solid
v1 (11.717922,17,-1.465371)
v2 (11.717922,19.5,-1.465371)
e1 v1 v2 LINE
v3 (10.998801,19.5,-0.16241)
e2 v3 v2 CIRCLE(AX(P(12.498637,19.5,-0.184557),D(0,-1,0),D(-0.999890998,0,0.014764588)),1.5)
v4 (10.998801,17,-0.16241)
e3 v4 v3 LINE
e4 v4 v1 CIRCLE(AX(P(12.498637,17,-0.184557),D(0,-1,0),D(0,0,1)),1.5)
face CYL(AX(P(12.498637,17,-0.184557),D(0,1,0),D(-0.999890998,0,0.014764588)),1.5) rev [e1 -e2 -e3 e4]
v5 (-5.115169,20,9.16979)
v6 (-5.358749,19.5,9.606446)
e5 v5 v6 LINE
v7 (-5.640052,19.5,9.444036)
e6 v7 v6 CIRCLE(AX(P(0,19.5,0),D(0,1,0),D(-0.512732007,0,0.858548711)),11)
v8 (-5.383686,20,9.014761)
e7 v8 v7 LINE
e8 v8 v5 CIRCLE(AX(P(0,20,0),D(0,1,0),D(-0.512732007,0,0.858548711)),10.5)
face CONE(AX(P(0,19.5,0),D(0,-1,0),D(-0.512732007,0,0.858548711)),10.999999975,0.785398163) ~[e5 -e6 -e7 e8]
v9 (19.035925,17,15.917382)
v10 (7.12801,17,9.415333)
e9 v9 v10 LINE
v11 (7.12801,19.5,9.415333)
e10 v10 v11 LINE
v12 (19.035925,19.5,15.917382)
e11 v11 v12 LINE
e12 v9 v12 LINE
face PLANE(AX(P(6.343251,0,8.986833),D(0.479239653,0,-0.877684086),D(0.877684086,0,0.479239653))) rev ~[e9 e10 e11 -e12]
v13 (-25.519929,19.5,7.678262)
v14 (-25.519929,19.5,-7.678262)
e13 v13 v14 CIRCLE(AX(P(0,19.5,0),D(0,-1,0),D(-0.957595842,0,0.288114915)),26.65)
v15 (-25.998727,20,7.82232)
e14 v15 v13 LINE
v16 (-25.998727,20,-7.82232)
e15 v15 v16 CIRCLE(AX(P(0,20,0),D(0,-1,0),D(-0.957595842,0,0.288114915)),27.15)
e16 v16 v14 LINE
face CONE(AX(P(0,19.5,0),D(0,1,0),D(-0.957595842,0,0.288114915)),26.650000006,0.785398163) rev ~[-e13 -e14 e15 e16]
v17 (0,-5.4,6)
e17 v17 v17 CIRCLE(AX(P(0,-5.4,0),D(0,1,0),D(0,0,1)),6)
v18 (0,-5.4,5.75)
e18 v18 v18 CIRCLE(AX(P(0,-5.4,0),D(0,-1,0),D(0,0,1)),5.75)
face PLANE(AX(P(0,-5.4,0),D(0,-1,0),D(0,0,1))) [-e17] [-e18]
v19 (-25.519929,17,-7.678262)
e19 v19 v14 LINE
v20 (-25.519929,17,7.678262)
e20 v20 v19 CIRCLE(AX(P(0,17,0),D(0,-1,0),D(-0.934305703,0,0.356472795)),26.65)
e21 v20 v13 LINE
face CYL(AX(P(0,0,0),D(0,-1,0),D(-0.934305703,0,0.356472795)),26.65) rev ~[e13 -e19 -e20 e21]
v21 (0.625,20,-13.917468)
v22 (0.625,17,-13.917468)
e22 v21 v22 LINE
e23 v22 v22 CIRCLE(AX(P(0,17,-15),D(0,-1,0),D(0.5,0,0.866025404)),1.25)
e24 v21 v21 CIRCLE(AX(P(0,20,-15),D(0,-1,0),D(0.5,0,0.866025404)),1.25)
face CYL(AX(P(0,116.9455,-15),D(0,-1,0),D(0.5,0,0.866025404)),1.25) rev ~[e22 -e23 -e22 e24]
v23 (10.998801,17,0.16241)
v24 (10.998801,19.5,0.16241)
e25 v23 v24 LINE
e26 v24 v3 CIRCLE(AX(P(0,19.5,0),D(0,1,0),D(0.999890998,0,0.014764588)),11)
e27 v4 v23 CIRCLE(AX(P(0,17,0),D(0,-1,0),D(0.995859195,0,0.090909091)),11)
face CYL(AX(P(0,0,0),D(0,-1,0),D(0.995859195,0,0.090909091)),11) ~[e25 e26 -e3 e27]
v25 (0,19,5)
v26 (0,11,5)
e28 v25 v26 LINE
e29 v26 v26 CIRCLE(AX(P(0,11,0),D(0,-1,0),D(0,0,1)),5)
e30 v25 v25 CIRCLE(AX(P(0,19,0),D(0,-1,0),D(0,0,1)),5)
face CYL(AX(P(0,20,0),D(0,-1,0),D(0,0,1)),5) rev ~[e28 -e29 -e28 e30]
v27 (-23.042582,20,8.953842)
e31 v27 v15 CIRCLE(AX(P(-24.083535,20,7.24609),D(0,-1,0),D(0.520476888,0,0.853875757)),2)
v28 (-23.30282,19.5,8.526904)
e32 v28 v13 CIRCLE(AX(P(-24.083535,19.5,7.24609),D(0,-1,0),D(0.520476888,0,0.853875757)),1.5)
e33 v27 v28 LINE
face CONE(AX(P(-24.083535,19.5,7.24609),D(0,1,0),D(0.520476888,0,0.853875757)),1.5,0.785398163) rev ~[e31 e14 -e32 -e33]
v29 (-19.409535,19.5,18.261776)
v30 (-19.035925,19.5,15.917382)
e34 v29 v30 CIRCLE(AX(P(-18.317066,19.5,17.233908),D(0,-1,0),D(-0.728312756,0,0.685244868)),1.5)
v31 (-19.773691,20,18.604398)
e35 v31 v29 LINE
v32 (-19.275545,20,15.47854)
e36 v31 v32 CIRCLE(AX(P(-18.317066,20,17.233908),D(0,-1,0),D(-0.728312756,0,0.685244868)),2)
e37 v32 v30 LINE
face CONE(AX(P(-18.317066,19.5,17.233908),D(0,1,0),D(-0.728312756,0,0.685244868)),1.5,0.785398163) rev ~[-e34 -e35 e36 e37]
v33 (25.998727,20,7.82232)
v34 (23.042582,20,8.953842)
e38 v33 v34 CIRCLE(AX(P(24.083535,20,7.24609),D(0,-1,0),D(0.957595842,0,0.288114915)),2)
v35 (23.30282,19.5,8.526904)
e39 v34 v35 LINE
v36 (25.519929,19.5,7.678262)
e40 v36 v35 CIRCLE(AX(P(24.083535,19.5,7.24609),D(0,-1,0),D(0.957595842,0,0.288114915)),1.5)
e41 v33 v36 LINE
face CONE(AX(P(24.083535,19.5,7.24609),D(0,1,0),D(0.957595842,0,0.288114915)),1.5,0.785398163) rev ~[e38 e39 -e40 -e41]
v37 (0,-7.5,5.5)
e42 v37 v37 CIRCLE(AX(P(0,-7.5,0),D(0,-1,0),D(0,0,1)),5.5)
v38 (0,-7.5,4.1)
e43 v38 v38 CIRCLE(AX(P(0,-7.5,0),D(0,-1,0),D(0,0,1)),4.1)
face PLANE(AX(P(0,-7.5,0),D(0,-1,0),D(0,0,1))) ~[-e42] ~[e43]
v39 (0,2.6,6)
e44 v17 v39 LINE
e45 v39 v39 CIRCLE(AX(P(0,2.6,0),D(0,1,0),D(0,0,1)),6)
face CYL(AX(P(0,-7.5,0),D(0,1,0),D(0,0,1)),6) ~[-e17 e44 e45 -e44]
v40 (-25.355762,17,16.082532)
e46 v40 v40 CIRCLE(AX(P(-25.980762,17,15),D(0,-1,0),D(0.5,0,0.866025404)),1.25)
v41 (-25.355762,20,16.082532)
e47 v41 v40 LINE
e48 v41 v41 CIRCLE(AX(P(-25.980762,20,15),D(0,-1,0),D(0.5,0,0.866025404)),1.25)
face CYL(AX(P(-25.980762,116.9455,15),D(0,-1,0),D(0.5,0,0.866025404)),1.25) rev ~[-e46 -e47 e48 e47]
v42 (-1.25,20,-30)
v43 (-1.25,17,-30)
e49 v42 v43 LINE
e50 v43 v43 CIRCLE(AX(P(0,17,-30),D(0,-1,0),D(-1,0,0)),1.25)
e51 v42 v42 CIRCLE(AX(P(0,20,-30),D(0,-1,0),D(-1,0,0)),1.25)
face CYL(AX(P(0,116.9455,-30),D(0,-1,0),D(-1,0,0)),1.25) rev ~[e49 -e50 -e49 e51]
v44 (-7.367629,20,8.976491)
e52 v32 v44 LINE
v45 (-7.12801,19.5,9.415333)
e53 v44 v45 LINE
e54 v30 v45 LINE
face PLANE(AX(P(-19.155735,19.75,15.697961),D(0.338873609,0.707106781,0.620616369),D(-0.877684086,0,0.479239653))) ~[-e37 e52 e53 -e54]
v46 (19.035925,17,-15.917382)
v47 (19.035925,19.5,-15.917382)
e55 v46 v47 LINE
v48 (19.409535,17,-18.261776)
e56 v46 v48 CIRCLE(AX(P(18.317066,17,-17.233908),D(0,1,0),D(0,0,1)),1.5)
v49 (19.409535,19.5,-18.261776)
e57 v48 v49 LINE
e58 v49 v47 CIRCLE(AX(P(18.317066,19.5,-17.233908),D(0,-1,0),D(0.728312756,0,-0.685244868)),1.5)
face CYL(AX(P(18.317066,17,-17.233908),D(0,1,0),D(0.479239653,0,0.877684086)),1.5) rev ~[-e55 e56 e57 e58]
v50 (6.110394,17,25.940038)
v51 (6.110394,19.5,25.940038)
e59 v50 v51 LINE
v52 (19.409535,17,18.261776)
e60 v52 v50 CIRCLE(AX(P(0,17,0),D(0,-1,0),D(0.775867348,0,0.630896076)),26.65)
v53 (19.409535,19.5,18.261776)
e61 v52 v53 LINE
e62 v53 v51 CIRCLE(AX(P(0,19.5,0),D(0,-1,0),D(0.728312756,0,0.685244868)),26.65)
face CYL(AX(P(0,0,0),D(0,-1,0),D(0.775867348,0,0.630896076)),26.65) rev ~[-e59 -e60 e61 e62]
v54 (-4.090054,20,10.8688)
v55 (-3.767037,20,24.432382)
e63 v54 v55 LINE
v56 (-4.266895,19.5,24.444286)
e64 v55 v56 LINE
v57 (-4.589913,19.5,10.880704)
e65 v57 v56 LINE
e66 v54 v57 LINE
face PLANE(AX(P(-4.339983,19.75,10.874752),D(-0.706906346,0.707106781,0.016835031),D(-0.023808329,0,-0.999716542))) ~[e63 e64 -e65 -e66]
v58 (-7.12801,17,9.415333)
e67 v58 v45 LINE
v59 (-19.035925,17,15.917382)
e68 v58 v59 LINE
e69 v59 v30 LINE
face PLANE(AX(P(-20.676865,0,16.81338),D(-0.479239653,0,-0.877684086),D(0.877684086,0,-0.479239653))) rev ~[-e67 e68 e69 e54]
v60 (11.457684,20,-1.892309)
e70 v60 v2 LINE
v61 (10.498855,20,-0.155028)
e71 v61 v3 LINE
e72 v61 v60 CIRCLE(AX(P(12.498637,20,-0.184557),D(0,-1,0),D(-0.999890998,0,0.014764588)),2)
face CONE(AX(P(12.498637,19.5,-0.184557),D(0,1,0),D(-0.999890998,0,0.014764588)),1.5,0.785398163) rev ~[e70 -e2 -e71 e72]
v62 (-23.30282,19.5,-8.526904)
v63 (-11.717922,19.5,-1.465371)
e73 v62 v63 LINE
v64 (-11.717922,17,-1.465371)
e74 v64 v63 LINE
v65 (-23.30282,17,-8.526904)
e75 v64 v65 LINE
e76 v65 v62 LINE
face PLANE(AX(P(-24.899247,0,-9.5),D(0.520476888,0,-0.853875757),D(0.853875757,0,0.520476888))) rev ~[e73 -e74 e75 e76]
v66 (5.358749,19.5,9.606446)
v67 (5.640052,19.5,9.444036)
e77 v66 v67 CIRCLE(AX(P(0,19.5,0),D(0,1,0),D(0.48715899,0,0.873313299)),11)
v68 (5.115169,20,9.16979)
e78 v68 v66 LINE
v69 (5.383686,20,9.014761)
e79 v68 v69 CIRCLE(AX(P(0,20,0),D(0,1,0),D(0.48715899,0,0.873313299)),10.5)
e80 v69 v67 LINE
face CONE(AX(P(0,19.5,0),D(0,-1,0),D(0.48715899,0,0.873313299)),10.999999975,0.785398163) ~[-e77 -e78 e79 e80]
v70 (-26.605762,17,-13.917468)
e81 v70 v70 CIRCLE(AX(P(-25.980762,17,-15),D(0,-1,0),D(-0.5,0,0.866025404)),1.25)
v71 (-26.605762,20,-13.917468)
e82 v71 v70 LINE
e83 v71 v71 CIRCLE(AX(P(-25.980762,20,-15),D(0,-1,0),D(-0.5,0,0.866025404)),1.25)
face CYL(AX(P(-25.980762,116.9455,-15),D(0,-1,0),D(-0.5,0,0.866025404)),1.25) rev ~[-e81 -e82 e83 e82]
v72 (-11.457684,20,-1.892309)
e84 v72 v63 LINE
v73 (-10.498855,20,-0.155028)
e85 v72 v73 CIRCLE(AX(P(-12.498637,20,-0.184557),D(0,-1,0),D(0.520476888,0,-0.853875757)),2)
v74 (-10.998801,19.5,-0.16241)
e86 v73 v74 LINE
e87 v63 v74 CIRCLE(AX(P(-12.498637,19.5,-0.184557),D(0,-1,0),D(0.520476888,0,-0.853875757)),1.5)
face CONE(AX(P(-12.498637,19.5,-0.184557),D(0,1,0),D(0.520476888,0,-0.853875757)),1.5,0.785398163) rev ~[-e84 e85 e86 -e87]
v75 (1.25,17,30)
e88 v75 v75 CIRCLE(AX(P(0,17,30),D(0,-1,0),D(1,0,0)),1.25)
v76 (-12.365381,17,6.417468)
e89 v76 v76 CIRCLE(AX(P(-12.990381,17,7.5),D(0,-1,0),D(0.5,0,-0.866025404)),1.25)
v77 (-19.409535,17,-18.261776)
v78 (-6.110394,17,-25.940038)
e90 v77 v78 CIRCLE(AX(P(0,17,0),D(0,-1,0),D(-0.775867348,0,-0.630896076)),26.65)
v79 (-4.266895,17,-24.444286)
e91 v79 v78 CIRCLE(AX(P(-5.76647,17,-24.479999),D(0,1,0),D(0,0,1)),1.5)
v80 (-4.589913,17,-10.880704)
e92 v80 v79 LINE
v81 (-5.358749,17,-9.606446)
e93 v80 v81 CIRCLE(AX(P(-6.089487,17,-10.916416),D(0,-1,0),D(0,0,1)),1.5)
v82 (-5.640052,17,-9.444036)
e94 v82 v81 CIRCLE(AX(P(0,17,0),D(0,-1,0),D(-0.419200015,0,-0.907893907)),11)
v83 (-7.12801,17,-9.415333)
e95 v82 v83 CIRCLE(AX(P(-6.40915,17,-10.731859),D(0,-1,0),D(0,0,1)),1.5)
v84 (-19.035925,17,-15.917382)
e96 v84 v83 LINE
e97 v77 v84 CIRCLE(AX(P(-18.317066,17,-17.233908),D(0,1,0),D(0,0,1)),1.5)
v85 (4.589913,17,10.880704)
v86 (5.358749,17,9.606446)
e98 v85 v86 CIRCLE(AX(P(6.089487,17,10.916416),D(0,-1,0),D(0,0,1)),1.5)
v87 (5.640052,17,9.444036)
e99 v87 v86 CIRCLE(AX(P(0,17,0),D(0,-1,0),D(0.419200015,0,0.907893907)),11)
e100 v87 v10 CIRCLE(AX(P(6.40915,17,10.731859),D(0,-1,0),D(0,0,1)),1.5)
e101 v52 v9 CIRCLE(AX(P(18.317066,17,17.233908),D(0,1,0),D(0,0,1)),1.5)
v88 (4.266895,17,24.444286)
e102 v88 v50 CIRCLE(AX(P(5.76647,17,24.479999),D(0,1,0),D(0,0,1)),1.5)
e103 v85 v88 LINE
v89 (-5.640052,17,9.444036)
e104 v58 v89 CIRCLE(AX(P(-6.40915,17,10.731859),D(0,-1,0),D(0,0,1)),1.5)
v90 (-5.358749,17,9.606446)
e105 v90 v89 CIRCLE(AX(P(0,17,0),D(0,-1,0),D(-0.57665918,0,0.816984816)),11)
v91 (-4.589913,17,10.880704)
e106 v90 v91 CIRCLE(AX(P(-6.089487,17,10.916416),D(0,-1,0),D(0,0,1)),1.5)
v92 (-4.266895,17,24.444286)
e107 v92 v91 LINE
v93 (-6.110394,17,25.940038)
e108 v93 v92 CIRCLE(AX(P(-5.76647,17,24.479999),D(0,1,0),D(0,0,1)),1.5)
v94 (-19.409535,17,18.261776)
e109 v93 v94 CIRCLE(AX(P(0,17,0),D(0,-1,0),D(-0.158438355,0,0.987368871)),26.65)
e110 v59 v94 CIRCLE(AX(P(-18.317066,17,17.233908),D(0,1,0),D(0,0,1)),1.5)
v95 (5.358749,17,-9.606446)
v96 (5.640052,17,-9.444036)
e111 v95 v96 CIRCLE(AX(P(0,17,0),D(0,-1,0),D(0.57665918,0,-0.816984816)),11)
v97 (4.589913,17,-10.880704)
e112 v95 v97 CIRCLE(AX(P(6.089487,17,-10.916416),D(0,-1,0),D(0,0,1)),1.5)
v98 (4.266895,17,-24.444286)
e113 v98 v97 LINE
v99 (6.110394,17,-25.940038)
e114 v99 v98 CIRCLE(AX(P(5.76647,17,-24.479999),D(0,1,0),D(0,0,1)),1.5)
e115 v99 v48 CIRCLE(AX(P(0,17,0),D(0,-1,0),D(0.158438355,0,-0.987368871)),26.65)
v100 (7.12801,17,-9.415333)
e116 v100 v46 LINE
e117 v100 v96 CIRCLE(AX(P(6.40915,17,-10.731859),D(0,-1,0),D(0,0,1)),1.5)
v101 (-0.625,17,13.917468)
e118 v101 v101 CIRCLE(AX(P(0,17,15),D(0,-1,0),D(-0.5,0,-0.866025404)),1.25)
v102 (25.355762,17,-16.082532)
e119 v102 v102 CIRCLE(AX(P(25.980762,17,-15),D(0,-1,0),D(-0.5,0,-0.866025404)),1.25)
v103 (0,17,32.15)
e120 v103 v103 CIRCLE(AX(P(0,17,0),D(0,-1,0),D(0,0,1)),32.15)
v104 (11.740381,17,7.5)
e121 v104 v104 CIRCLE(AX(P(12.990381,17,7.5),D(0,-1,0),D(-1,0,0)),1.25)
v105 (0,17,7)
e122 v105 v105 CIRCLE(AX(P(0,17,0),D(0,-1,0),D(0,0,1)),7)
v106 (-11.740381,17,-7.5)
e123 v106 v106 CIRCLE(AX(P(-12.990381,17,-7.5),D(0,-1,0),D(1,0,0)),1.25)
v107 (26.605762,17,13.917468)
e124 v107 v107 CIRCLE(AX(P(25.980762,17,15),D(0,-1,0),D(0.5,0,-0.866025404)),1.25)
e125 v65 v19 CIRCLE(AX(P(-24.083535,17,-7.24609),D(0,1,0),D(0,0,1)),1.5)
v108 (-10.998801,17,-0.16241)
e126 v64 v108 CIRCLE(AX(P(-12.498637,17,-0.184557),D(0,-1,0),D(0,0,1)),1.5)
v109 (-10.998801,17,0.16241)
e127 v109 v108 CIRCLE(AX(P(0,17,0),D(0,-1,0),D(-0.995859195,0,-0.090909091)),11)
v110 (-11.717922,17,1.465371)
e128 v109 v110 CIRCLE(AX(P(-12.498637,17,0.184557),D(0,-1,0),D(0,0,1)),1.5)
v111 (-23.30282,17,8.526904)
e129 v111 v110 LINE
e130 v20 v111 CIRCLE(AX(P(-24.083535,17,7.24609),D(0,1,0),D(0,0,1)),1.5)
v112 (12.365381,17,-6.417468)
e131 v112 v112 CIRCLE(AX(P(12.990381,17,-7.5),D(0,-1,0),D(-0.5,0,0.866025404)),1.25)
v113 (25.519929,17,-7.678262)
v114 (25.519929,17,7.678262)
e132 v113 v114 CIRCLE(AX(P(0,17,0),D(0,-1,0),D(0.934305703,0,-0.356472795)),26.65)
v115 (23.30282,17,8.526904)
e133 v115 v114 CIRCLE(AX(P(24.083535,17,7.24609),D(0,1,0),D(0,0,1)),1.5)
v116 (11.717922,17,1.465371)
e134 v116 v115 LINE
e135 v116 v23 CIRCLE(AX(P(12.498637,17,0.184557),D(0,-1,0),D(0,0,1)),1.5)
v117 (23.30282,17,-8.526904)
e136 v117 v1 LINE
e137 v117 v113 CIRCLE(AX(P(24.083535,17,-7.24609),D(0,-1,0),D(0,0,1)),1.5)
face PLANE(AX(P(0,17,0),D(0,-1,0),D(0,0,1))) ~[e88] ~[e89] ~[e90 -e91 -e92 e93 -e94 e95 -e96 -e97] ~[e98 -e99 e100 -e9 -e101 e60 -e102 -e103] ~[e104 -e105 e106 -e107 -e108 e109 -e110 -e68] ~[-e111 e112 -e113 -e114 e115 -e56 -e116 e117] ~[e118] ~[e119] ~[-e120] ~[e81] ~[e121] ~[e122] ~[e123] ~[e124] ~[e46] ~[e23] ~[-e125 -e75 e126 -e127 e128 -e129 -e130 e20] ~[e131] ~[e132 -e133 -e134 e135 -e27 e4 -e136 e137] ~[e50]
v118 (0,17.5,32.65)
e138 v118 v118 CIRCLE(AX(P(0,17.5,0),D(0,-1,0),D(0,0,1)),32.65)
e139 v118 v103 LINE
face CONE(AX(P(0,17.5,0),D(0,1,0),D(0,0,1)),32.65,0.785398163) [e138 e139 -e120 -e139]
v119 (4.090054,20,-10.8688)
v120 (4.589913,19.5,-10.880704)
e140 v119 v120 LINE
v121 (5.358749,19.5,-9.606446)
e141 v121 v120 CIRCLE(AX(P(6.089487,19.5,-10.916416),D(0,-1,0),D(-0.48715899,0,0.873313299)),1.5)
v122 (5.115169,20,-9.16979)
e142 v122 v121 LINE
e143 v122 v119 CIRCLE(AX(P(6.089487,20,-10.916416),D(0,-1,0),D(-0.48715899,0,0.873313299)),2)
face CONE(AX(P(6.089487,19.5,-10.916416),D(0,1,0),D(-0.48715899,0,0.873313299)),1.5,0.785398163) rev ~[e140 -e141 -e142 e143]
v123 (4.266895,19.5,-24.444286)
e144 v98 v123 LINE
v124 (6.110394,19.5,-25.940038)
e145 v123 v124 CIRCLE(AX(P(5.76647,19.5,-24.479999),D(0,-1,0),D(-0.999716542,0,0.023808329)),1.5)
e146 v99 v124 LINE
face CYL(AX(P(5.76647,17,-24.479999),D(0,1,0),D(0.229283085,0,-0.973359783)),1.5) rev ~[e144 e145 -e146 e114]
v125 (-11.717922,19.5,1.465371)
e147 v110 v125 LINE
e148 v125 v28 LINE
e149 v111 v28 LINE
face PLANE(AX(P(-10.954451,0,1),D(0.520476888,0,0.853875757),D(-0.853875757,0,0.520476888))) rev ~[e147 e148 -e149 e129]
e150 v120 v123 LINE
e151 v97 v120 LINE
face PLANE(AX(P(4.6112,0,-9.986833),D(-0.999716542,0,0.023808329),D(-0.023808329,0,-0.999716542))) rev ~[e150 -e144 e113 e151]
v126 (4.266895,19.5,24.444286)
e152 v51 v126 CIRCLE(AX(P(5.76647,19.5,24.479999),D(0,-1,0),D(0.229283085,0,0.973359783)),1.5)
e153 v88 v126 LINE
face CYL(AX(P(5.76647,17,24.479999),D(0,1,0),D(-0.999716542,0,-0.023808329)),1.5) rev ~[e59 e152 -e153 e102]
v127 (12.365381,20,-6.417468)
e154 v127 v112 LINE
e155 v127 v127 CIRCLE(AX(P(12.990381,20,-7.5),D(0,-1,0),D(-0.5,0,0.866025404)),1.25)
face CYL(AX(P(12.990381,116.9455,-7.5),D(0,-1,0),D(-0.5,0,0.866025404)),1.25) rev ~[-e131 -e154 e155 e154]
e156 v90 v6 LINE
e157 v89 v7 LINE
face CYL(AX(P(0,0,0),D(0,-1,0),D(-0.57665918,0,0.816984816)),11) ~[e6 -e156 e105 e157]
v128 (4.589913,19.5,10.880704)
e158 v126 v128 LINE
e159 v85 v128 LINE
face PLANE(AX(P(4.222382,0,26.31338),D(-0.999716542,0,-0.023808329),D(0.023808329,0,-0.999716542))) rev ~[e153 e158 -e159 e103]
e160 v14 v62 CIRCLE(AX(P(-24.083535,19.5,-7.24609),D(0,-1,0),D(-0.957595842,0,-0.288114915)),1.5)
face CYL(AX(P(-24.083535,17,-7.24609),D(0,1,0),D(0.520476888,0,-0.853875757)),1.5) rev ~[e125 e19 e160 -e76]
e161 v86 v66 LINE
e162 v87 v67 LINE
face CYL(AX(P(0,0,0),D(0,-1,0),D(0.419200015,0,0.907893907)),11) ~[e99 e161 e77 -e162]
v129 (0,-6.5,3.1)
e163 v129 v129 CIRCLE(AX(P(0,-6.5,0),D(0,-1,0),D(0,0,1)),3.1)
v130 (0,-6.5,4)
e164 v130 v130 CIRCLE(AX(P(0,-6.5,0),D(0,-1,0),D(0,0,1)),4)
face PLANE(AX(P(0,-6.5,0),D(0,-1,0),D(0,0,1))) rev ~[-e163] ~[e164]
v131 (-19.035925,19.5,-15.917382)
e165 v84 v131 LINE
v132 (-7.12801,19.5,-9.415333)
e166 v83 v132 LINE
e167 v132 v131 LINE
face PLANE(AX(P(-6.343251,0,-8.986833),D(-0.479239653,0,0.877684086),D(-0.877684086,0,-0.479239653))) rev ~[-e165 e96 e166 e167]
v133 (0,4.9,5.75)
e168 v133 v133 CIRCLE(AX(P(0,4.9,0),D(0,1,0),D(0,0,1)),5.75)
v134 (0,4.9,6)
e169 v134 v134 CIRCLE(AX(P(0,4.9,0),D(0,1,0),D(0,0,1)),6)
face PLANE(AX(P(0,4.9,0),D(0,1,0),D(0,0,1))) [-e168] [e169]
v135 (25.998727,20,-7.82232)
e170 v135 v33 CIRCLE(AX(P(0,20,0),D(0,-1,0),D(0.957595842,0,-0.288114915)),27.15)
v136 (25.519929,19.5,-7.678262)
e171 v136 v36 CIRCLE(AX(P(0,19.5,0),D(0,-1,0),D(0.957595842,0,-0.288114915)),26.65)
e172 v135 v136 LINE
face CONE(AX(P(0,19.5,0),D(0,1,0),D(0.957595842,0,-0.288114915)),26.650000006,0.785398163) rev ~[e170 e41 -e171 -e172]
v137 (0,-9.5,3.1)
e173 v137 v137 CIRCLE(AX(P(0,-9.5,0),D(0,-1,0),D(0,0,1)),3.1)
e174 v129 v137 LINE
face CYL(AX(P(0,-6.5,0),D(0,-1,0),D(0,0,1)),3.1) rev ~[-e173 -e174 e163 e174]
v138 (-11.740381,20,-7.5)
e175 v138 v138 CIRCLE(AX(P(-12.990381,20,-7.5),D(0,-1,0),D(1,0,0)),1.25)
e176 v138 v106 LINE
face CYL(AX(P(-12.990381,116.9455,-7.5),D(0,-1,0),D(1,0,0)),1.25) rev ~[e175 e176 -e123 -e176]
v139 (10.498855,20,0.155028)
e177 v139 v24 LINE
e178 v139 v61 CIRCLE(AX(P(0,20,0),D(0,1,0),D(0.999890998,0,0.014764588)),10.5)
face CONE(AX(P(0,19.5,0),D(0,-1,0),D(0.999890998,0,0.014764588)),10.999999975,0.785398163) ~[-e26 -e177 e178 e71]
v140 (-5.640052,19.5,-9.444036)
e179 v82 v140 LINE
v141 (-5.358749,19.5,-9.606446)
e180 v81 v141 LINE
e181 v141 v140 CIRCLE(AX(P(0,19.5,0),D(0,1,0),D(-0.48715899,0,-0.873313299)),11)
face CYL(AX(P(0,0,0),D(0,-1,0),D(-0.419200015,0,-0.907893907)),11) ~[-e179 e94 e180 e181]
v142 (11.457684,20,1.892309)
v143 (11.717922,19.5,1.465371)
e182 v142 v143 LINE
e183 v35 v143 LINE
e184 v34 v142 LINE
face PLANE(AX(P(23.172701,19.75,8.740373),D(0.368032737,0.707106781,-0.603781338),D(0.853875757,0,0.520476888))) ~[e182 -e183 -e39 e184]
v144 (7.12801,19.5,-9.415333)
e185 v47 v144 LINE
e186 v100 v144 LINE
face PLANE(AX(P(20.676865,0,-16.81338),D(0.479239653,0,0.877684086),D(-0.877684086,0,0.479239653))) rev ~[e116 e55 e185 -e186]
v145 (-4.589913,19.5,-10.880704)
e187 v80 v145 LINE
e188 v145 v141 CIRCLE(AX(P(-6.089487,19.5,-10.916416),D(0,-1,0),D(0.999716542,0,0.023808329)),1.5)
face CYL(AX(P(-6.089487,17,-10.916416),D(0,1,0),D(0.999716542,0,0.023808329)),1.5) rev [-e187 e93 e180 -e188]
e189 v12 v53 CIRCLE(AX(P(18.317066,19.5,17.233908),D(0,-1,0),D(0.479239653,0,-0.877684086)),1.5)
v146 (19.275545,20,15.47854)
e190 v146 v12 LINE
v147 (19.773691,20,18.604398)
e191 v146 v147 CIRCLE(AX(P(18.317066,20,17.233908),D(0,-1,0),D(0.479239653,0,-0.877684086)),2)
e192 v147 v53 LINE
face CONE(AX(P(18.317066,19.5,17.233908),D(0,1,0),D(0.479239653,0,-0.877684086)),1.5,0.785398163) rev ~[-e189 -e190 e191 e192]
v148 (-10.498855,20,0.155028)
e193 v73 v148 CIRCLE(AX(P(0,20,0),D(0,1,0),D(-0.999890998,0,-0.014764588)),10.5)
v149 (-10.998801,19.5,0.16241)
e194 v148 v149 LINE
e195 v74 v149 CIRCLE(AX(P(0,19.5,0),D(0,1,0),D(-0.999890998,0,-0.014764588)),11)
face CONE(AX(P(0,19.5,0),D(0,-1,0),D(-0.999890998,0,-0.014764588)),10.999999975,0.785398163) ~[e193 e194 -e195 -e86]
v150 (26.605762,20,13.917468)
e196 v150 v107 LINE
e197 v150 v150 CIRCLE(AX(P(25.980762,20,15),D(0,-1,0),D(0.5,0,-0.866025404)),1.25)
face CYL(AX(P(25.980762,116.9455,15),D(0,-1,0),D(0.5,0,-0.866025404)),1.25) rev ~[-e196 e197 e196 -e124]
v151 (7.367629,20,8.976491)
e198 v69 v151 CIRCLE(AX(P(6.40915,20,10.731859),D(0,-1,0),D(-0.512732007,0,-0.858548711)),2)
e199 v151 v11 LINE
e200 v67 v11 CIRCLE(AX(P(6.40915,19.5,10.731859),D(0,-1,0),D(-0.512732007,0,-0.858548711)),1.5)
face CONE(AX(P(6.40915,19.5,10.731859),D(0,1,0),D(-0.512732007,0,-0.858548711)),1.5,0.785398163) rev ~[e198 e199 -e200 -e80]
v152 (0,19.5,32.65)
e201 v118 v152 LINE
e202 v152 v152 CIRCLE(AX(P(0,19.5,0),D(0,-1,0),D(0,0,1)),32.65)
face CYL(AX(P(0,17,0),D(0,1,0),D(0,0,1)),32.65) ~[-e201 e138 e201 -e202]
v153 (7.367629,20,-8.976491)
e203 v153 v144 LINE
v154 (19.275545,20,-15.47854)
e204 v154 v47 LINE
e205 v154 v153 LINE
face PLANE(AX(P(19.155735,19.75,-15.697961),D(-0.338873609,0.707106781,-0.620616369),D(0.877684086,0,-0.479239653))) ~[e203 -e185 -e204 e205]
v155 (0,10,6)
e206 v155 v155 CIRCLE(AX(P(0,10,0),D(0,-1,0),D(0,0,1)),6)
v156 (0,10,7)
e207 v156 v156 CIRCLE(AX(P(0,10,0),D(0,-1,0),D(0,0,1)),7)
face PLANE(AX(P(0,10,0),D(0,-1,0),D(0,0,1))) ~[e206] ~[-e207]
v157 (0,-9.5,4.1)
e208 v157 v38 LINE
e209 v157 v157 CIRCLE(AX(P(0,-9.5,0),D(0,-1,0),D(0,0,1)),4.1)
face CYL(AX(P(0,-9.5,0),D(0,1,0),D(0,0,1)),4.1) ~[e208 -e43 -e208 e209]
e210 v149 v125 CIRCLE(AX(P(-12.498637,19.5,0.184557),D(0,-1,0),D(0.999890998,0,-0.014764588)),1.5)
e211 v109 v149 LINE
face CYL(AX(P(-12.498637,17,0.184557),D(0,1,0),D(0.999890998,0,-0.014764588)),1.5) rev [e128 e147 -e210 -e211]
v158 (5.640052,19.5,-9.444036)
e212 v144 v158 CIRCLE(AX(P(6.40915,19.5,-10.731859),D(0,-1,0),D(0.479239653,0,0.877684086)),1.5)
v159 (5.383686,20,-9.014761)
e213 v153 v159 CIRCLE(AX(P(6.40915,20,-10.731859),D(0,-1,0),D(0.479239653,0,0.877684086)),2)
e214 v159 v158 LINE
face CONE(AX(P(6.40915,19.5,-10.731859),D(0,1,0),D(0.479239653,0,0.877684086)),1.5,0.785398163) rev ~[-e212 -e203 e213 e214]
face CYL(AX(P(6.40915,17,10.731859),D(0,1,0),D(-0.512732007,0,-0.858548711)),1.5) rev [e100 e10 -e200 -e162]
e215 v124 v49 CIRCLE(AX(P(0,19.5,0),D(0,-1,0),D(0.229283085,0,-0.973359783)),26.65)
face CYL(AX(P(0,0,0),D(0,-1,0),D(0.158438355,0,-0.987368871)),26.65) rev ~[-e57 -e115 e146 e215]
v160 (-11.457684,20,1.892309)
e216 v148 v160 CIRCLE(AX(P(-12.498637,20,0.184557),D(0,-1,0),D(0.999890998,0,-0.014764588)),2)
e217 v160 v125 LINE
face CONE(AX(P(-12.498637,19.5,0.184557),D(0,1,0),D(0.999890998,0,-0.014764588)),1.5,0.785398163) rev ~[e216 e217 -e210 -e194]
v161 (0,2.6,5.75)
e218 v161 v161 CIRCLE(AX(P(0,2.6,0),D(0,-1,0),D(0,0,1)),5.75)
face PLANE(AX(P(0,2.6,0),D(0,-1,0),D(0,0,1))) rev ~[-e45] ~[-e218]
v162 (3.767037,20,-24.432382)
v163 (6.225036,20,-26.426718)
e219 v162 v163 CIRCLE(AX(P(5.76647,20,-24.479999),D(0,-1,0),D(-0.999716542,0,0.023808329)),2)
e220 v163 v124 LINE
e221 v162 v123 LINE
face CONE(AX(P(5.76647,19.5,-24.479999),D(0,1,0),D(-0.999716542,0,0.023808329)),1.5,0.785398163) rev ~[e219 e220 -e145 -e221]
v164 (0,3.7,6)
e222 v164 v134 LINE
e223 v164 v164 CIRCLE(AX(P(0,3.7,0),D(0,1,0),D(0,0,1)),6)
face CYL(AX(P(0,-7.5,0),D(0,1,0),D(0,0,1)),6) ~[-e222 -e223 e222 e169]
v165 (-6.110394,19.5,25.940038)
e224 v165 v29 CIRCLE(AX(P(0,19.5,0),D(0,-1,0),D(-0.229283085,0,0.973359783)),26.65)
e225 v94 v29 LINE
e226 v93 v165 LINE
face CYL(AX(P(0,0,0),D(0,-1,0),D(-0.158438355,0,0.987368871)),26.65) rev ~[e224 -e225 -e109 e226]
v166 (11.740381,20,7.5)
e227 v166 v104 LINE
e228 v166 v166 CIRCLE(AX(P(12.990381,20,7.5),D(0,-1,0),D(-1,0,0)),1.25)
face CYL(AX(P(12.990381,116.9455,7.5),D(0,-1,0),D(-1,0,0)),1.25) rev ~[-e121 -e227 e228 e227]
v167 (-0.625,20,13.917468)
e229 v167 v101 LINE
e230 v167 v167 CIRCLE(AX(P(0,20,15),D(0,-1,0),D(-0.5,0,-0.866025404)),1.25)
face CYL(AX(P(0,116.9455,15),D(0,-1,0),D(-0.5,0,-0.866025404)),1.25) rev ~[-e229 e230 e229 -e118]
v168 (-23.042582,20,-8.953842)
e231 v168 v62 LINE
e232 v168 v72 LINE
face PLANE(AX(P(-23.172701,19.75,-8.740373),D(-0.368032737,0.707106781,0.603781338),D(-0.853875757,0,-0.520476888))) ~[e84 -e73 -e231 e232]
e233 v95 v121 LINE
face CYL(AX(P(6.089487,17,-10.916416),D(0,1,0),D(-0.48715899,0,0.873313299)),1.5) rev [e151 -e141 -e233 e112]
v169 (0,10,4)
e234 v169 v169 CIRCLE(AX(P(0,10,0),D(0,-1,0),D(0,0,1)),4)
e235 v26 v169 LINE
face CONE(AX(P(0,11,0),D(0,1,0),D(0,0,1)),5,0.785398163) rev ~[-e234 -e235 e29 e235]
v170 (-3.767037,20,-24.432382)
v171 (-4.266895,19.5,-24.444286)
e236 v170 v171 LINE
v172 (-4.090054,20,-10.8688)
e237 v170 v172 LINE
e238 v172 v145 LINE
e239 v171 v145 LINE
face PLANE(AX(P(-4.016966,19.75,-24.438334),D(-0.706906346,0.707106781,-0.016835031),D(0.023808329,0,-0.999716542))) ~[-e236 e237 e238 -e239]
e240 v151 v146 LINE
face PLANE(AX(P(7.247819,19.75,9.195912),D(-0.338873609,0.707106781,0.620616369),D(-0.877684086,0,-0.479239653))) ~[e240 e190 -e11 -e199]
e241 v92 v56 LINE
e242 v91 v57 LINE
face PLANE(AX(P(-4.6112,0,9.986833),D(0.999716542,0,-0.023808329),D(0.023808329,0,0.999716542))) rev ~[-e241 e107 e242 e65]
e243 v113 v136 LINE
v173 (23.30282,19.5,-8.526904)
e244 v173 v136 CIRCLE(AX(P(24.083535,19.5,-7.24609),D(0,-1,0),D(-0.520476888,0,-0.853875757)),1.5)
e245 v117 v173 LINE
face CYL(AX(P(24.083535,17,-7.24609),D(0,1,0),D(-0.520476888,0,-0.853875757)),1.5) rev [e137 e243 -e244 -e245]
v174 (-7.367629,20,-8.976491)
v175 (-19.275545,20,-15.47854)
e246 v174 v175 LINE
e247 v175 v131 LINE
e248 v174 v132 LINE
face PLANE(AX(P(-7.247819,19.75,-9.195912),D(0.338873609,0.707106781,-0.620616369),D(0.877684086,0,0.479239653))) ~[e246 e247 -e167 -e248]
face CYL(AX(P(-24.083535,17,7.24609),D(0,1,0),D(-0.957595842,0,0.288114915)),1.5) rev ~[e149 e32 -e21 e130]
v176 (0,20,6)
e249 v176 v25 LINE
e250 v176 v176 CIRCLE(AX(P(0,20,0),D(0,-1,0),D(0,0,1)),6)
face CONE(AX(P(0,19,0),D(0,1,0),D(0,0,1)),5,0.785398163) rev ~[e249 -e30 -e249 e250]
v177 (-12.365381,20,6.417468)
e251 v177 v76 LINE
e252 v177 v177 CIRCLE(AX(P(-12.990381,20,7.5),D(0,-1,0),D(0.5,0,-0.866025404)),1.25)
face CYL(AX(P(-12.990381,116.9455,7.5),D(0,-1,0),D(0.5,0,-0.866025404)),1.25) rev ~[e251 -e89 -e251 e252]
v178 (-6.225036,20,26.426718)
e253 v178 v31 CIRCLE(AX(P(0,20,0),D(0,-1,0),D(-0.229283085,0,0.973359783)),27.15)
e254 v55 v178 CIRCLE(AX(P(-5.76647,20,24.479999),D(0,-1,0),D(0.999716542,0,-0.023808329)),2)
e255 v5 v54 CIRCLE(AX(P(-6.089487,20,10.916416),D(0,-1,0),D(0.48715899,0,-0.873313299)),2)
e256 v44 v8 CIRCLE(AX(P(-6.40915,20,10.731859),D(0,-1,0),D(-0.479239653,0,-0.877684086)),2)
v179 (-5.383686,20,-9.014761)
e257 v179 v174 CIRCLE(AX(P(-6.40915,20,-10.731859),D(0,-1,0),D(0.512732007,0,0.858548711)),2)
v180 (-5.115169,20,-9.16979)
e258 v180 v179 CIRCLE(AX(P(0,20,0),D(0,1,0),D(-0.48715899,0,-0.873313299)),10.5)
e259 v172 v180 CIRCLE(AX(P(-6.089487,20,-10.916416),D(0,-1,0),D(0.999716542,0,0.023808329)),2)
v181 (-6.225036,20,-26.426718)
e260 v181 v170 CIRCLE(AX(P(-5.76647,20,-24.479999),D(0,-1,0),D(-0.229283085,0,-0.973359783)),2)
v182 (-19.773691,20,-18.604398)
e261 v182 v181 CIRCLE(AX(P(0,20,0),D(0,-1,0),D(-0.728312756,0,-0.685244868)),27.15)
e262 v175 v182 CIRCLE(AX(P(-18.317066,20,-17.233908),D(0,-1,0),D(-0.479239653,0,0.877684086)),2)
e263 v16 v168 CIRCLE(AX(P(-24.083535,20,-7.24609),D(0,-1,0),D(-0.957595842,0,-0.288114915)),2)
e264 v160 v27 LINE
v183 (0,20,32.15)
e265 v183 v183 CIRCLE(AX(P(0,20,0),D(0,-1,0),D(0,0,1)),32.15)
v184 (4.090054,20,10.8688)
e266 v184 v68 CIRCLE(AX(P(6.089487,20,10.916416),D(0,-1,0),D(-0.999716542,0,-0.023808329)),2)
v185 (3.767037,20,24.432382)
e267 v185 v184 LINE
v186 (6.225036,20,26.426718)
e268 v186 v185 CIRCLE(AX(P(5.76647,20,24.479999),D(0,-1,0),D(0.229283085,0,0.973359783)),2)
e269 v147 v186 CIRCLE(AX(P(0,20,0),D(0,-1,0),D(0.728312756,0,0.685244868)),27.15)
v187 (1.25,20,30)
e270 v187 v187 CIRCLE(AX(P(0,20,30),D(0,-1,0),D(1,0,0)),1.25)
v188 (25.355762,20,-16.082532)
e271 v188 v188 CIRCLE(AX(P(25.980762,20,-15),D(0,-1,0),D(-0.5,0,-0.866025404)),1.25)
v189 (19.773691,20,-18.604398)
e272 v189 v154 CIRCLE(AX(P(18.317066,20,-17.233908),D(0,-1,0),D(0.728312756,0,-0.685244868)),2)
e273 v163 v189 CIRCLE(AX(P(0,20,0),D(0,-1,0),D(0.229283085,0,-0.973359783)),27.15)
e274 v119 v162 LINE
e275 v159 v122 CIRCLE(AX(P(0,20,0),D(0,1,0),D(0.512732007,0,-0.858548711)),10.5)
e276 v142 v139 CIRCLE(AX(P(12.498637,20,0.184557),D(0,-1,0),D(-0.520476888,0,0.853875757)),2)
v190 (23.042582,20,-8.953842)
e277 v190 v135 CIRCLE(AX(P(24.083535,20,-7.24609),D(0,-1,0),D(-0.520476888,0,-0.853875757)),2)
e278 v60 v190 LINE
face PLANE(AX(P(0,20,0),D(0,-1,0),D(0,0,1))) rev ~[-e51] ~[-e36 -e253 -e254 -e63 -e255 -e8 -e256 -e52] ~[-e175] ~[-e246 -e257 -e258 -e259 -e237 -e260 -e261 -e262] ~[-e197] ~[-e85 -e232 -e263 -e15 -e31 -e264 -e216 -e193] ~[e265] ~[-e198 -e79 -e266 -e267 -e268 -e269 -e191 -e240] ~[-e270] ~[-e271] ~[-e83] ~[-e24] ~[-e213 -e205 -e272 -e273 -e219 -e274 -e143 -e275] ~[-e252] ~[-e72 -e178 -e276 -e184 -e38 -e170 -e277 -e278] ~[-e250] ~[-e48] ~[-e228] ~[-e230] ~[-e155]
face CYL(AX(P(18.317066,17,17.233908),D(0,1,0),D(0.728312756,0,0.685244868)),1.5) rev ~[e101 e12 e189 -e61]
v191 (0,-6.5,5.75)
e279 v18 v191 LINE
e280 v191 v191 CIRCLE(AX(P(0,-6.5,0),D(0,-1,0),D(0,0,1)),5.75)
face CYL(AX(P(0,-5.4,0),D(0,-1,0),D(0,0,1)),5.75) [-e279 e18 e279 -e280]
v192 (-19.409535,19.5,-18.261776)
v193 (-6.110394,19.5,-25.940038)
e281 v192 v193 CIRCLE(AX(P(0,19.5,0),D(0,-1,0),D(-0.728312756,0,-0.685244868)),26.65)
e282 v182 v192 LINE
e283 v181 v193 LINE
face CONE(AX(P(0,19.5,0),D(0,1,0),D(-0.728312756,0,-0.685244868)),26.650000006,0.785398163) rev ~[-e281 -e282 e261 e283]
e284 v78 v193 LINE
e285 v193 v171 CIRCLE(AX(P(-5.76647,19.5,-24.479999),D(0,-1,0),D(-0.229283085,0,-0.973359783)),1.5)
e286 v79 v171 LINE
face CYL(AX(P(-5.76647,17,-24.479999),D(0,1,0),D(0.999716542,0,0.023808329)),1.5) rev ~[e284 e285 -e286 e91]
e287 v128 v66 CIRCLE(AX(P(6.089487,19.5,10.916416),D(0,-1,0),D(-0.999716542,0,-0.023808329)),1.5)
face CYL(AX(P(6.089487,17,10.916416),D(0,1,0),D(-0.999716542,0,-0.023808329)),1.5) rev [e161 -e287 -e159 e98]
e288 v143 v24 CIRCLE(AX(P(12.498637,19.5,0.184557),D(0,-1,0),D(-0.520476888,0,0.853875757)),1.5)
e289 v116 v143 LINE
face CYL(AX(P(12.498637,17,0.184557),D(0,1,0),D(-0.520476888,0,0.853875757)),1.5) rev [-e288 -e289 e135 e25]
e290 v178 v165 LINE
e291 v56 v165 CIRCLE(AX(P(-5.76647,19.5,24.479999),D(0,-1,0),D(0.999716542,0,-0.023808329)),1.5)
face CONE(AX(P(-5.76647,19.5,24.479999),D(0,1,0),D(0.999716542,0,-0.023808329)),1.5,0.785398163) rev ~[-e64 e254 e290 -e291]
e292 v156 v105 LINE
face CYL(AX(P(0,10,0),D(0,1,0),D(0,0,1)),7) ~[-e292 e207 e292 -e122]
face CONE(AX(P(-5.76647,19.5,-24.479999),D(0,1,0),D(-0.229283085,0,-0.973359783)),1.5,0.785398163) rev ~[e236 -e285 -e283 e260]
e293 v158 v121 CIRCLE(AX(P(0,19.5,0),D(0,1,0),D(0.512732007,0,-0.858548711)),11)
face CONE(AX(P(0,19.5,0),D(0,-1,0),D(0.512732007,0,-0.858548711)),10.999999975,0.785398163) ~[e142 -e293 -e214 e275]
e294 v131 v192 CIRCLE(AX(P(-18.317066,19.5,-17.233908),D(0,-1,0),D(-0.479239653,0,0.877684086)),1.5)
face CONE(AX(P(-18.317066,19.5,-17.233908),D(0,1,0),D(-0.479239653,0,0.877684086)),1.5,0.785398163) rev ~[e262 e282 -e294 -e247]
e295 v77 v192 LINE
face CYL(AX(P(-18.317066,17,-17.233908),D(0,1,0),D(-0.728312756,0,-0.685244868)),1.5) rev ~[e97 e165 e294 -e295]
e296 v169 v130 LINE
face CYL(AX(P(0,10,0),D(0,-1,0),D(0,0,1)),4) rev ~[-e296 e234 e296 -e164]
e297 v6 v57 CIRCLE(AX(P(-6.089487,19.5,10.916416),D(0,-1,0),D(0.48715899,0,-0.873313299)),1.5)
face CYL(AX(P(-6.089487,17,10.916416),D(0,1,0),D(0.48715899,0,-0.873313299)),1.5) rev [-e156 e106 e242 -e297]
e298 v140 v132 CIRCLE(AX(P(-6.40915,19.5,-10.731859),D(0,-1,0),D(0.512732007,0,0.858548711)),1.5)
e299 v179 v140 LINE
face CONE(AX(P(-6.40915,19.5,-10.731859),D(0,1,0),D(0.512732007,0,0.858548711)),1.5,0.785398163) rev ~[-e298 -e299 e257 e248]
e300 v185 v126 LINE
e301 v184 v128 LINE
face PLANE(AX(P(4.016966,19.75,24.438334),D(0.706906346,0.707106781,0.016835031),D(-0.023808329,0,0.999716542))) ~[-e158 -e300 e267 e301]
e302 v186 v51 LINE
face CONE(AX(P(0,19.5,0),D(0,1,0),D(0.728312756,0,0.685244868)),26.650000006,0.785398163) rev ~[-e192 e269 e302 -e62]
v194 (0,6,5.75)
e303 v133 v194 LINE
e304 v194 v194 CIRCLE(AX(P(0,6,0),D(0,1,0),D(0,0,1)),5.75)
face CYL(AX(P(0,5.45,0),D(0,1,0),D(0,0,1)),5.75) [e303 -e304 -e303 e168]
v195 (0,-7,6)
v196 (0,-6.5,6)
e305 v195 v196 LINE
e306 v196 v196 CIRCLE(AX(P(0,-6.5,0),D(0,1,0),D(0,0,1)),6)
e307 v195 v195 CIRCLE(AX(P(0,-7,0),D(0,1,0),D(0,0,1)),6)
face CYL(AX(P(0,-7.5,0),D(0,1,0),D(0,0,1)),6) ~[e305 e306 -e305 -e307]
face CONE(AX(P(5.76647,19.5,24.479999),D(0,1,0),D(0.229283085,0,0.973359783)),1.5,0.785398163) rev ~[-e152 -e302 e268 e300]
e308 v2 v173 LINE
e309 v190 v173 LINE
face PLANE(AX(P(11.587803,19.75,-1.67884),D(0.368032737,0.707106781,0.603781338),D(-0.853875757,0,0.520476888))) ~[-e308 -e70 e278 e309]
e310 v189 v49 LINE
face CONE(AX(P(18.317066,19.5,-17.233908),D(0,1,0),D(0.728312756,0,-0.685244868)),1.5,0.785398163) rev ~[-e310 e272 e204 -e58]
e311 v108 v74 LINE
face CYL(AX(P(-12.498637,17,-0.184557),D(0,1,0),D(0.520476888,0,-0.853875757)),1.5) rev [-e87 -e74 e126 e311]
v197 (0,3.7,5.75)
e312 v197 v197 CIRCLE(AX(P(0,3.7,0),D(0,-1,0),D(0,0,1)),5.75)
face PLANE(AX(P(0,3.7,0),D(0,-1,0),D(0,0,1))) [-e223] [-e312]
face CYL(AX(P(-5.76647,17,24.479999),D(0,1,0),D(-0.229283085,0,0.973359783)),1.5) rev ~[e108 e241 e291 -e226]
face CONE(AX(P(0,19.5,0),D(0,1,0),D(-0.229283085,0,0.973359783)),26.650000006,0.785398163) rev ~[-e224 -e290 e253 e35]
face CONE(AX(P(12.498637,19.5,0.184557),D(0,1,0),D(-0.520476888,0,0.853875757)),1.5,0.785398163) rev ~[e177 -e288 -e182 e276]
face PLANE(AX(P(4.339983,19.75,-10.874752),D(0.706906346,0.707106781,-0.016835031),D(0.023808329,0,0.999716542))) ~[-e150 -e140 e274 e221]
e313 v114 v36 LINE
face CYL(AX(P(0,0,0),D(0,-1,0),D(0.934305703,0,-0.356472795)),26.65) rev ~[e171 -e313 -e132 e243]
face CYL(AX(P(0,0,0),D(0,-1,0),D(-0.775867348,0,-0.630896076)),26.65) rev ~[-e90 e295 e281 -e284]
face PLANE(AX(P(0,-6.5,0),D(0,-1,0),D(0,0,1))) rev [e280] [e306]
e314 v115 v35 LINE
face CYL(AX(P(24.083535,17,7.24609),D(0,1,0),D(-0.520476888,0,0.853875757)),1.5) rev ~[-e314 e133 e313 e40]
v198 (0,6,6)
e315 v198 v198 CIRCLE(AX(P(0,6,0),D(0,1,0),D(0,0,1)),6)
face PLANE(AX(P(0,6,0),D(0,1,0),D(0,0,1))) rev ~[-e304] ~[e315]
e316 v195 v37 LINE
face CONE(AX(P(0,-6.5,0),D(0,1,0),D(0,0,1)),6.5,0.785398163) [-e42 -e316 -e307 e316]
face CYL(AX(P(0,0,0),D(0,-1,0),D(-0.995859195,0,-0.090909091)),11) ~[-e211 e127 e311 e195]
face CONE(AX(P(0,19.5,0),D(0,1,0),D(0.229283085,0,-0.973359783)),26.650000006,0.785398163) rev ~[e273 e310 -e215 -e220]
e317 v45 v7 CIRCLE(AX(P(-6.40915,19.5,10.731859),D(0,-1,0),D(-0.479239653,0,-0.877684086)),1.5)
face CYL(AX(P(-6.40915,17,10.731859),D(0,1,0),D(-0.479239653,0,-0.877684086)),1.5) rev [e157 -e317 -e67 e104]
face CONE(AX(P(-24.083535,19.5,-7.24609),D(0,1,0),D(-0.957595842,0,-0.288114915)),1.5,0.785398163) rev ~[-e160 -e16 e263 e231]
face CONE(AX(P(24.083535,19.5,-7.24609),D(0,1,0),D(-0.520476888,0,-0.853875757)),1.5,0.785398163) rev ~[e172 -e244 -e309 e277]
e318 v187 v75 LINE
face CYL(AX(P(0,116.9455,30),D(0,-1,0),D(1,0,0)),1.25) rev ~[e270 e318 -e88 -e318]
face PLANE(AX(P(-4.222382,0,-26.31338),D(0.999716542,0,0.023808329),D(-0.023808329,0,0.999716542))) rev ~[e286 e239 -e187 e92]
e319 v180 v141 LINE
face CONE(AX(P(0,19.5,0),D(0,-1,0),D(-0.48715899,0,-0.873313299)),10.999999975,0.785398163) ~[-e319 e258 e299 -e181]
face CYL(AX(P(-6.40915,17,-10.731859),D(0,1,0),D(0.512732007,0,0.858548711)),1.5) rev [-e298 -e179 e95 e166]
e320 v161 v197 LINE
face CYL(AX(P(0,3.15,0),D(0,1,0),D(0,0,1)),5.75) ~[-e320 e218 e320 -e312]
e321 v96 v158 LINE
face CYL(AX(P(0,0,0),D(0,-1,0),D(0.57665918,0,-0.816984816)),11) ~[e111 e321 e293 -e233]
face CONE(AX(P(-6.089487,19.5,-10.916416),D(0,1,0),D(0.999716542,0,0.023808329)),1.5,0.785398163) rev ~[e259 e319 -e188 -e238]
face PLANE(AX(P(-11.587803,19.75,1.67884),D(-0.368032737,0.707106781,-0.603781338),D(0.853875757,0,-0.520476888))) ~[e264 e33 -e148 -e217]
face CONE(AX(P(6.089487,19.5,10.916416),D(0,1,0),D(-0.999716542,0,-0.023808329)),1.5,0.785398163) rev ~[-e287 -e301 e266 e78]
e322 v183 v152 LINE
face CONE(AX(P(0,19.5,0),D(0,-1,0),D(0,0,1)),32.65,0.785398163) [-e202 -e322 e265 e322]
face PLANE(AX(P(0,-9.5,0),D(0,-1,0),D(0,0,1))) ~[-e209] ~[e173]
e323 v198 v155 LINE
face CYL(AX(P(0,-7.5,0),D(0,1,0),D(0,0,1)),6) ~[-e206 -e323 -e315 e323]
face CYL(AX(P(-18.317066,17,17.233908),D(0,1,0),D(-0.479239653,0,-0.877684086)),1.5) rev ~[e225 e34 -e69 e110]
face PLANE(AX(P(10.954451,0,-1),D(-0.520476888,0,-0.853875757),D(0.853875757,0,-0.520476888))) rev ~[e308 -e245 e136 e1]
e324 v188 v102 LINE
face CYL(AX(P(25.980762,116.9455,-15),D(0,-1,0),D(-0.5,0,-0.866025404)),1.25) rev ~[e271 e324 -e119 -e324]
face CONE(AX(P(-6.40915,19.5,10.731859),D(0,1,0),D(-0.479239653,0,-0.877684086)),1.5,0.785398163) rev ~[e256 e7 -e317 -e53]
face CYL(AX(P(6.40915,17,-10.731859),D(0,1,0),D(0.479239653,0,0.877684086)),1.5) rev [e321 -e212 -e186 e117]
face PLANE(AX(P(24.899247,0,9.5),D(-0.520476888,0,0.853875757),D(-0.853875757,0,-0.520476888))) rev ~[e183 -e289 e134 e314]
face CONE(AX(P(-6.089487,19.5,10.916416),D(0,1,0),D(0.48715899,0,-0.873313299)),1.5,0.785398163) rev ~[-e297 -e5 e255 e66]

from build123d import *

# Parameters (mm, degrees)
CIRPATTERN1_COUNT        = 3
CHAMFER1_SIZE            = 0.5
CHAMFER2_SIZE            = 1
CUT_EXTRUDE1_DEPTH       = 51.319429647
FILLET1_R                = 1.5
M3X0_5_TAPPED_HOLE1_D    = 2.5
CIRPATTERN2_COUNT        = 6
FILLET1_OF_CIRPATTERN2_R = 1.5
SKETCH10_W               = 1.207732619
SKETCH10_H               = 1.1
SKETCH11_W               = 3.151954219
SKETCH11_H               = 1.1
M3X0_5_TAPPED_HOLE2_D    = 2.5
CIRPATTERN3_COUNT        = 6
CHAMFER3_SIZE            = 0.5


with BuildPart() as part:
    # Sketch2 → Revolve1 (revolve)
    with BuildSketch(Plane.XY):
        Polygon((-4, 10), (-4, -6.5), (-3.1, -6.5), (-3.1, -9.5), (-4.1, -9.5), (-4.1, -7.5), (-6, -7.5), (-6, 10), (-7, 10), (-7, 17), (-32.65, 17), (-32.65, 20), (-5, 20), (-5, 11), align=None)
    revolve(axis=Axis((0, 0, 0), (0, -1, 0)))

    # Sketch3 → Revolve2 (revolve)
    with BuildSketch(Plane.XY):
        Polygon((-21.598, 15), (-22.598, 15), (-22.598, 17), (-20.098, 17), (-20.098, 11), (-21.598, 11), align=None)
    revolve2 = revolve(axis=Axis((-20.098, 18.273035546, 0), (0, -1, 0)))

    # CirPattern1: Revolve2 ×3 about axis
    cirpattern1_axis = Axis((0, 0, 0), (0, 1, 0))
    for i in range(1, CIRPATTERN1_COUNT):
        add(revolve2.rotate(cirpattern1_axis, i * 360 / CIRPATTERN1_COUNT))

    # Chamfer1
    chamfer1_edges = [part.edges().sort_by_distance(p)[0] for p in [
        (32.65, 20, 0),
        (32.65, 17, 0),
    ]]
    chamfer(chamfer1_edges, length=CHAMFER1_SIZE)

    # Chamfer2
    chamfer2_edges = [part.edges().sort_by_distance(p)[0] for p in [
        (5, 20, 0),
    ]]
    chamfer(chamfer2_edges, length=CHAMFER2_SIZE)

    # Sketch6 → Cut-Extrude1 (cut, through all)
    with BuildSketch(Plane(origin=(0, 0, 0), x_dir=(1, 0, 0), z_dir=(0, 1, 0))):
        with BuildLine():
            Line((24.899246977, -9.5), (10.95445115, -1))
            ThreePointArc((10.95445115, -1), (11, 0), (10.95445115, 1))
            Line((10.95445115, 1), (24.899246977, 9.5))
            ThreePointArc((24.899246977, 9.5), (26.65, 0), (24.899246977, -9.5))
        make_face()
    cut_extrude1 = extrude(amount=CUT_EXTRUDE1_DEPTH, mode=Mode.SUBTRACT)

    # Fillet1
    fillet1_edges = [part.edges().sort_by_distance(p)[0] for p in [
        (24.899246977, 18.5, 9.5),
        (10.95445115, 18.5, 1),
        (10.95445115, 18.5, -1),
        (24.899246977, 18.5, -9.5),
    ]]
    fillet(fillet1_edges, radius=FILLET1_R)

    # M3x0.5 Tapped Hole1 (through all)
    with Locations(Plane(origin=(0, 20, 0), x_dir=(1, 0, 0), z_dir=(0, 1, 0))):
        with Locations((12.990381057, -7.5)):
            m3x0_5_tapped_hole1 = Hole(M3X0_5_TAPPED_HOLE1_D / 2)

    # CirPattern2: Cut-Extrude1, M3x0.5 Tapped Hole1 ×6 about axis
    cirpattern2_axis = Axis((0, 0, 0), (0, 1, 0))
    add([cut_extrude1.rotate(cirpattern2_axis, i * 360 / CIRPATTERN2_COUNT) for i in range(1, CIRPATTERN2_COUNT)], mode=Mode.SUBTRACT)
    add([m3x0_5_tapped_hole1.rotate(cirpattern2_axis, i * 360 / CIRPATTERN2_COUNT) for i in range(1, CIRPATTERN2_COUNT)], mode=Mode.SUBTRACT)

    # Fillet1 of CirPattern2
    fillet1_of_cirpattern2_edges = [part.edges().sort_by_distance(p)[0] for p in [
        (20.676864824, 18.5, -16.813380417),
        (6.343250979, 18.5, -8.986832981),
        (4.611200171, 18.5, -9.986832981),
        (4.222382152, 18.5, -26.313380417),
        (-4.222382152, 18.5, -26.313380417),
        (-4.611200171, 18.5, -9.986832981),
        (-6.343250979, 18.5, -8.986832981),
        (-20.676864824, 18.5, -16.813380417),
        (-24.899246977, 18.5, -9.5),
        (-10.95445115, 18.5, -1),
        (-10.95445115, 18.5, 1),
        (-24.899246977, 18.5, 9.5),
        (-20.676864824, 18.5, 16.813380417),
        (-6.343250979, 18.5, 8.986832981),
        (-4.611200171, 18.5, 9.986832981),
        (-4.222382152, 18.5, 26.313380417),
        (4.222382152, 18.5, 26.313380417),
        (4.611200171, 18.5, 9.986832981),
        (6.343250979, 18.5, 8.986832981),
        (20.676864824, 18.5, 16.813380417),
    ]]
    fillet(fillet1_of_cirpattern2_edges, radius=FILLET1_OF_CIRPATTERN2_R)

    # Sketch9 → Cut-Revolve1 (revolve, cut)
    with BuildSketch(Plane.XY):
        Polygon((-8.538708616, -5.4), (-5.75, -5.4), (-5.75, -6.5), (-6.5, -6.5), (-5.5, -7.5), (-8.538708616, -7.5), align=None)
    revolve(axis=Axis((0, 0, 0), (0, -1, 0)), mode=Mode.SUBTRACT)

    # Sketch10 → Cut-Revolve2 (revolve, cut)
    with BuildSketch(Plane.XY):
        with Locations((-6.35386631, 5.45)):
            Rectangle(SKETCH10_W, SKETCH10_H)
    revolve(axis=Axis((0, 0, 0), (0, 1, 0)), mode=Mode.SUBTRACT)

    # Sketch11 → Cut-Revolve3 (revolve, cut)
    with BuildSketch(Plane.XY):
        with Locations((-7.32597711, 3.15)):
            Rectangle(SKETCH11_W, SKETCH11_H)
    revolve(axis=Axis((0, 0, 0), (0, -1, 0)), mode=Mode.SUBTRACT)

    # M3x0.5 Tapped Hole2 (through all)
    with Locations(Plane(origin=(0, 20, 0), x_dir=(1, 0, 0), z_dir=(0, 1, 0))):
        with Locations((0, 30)):
            m3x0_5_tapped_hole2 = Hole(M3X0_5_TAPPED_HOLE2_D / 2)

    # CirPattern3: M3x0.5 Tapped Hole2 ×6 about axis
    cirpattern3_axis = Axis((0, 0, 0), (0, 1, 0))
    for i in range(1, CIRPATTERN3_COUNT):
        add(m3x0_5_tapped_hole2.rotate(cirpattern3_axis, i * 360 / CIRPATTERN3_COUNT), mode=Mode.SUBTRACT)

    # Chamfer3
    chamfer3_edges = [part.edges().sort_by_distance(p)[0] for p in [
        (-5.5, 20, -9.526279442),
        (-4.805155894, 20, -10.141501639),
        (-6.380220105, 20, -9.232137893),
        (-4.428403676, 20, -17.662494894),
        (-13.081967435, 20, -12.666357528),
        (-4.821376756, 20, -25.644815917),
        (-19.798373681, 20, -16.997842711),
        (-13.325, 20, -23.079577011),
        (11, 20, 0),
        (11.185375999, 20, 0.909363746),
        (11.185375999, 20, -0.909363746),
        (17.51037111, 20, 4.996137366),
        (17.51037111, 20, -4.996137366),
        (24.619750438, 20, 8.646973206),
        (24.619750438, 20, -8.646973206),
        (26.65, 20, 0),
        (5.5, 20, -9.526279442),
        (6.380220105, 20, -9.232137893),
        (4.805155894, 20, -10.141501639),
        (13.081967435, 20, -12.666357528),
        (4.428403676, 20, -17.662494894),
        (19.798373681, 20, -16.997842711),
        (4.821376756, 20, -25.644815917),
        (13.325, 20, -23.079577011),
        (-17.51037111, 20, -4.996137366),
        (-24.619750438, 20, -8.646973206),
        (-11.185375999, 20, -0.909363746),
        (-26.65, 20, 0),
        (-11, 20, 0),
        (-24.619750438, 20, 8.646973206),
        (-11.185375999, 20, 0.909363746),
        (-17.51037111, 20, 4.996137366),
        (-13.081967435, 20, 12.666357528),
        (-19.798373681, 20, 16.997842711),
        (-6.380220105, 20, 9.232137893),
        (-13.325, 20, 23.079577011),
        (-5.5, 20, 9.526279442),
        (-4.821376756, 20, 25.644815917),
        (-4.805155894, 20, 10.141501639),
        (-4.428403676, 20, 17.662494894),
        (13.081967435, 20, 12.666357528),
        (6.380220105, 20, 9.232137893),
        (19.798373681, 20, 16.997842711),
        (5.5, 20, 9.526279442),
        (13.325, 20, 23.079577011),
        (4.805155894, 20, 10.141501639),
        (4.821376756, 20, 25.644815917),
        (4.428403676, 20, 17.662494894),
    ]]
    chamfer(chamfer3_edges, length=CHAMFER3_SIZE)


solid = part.part
